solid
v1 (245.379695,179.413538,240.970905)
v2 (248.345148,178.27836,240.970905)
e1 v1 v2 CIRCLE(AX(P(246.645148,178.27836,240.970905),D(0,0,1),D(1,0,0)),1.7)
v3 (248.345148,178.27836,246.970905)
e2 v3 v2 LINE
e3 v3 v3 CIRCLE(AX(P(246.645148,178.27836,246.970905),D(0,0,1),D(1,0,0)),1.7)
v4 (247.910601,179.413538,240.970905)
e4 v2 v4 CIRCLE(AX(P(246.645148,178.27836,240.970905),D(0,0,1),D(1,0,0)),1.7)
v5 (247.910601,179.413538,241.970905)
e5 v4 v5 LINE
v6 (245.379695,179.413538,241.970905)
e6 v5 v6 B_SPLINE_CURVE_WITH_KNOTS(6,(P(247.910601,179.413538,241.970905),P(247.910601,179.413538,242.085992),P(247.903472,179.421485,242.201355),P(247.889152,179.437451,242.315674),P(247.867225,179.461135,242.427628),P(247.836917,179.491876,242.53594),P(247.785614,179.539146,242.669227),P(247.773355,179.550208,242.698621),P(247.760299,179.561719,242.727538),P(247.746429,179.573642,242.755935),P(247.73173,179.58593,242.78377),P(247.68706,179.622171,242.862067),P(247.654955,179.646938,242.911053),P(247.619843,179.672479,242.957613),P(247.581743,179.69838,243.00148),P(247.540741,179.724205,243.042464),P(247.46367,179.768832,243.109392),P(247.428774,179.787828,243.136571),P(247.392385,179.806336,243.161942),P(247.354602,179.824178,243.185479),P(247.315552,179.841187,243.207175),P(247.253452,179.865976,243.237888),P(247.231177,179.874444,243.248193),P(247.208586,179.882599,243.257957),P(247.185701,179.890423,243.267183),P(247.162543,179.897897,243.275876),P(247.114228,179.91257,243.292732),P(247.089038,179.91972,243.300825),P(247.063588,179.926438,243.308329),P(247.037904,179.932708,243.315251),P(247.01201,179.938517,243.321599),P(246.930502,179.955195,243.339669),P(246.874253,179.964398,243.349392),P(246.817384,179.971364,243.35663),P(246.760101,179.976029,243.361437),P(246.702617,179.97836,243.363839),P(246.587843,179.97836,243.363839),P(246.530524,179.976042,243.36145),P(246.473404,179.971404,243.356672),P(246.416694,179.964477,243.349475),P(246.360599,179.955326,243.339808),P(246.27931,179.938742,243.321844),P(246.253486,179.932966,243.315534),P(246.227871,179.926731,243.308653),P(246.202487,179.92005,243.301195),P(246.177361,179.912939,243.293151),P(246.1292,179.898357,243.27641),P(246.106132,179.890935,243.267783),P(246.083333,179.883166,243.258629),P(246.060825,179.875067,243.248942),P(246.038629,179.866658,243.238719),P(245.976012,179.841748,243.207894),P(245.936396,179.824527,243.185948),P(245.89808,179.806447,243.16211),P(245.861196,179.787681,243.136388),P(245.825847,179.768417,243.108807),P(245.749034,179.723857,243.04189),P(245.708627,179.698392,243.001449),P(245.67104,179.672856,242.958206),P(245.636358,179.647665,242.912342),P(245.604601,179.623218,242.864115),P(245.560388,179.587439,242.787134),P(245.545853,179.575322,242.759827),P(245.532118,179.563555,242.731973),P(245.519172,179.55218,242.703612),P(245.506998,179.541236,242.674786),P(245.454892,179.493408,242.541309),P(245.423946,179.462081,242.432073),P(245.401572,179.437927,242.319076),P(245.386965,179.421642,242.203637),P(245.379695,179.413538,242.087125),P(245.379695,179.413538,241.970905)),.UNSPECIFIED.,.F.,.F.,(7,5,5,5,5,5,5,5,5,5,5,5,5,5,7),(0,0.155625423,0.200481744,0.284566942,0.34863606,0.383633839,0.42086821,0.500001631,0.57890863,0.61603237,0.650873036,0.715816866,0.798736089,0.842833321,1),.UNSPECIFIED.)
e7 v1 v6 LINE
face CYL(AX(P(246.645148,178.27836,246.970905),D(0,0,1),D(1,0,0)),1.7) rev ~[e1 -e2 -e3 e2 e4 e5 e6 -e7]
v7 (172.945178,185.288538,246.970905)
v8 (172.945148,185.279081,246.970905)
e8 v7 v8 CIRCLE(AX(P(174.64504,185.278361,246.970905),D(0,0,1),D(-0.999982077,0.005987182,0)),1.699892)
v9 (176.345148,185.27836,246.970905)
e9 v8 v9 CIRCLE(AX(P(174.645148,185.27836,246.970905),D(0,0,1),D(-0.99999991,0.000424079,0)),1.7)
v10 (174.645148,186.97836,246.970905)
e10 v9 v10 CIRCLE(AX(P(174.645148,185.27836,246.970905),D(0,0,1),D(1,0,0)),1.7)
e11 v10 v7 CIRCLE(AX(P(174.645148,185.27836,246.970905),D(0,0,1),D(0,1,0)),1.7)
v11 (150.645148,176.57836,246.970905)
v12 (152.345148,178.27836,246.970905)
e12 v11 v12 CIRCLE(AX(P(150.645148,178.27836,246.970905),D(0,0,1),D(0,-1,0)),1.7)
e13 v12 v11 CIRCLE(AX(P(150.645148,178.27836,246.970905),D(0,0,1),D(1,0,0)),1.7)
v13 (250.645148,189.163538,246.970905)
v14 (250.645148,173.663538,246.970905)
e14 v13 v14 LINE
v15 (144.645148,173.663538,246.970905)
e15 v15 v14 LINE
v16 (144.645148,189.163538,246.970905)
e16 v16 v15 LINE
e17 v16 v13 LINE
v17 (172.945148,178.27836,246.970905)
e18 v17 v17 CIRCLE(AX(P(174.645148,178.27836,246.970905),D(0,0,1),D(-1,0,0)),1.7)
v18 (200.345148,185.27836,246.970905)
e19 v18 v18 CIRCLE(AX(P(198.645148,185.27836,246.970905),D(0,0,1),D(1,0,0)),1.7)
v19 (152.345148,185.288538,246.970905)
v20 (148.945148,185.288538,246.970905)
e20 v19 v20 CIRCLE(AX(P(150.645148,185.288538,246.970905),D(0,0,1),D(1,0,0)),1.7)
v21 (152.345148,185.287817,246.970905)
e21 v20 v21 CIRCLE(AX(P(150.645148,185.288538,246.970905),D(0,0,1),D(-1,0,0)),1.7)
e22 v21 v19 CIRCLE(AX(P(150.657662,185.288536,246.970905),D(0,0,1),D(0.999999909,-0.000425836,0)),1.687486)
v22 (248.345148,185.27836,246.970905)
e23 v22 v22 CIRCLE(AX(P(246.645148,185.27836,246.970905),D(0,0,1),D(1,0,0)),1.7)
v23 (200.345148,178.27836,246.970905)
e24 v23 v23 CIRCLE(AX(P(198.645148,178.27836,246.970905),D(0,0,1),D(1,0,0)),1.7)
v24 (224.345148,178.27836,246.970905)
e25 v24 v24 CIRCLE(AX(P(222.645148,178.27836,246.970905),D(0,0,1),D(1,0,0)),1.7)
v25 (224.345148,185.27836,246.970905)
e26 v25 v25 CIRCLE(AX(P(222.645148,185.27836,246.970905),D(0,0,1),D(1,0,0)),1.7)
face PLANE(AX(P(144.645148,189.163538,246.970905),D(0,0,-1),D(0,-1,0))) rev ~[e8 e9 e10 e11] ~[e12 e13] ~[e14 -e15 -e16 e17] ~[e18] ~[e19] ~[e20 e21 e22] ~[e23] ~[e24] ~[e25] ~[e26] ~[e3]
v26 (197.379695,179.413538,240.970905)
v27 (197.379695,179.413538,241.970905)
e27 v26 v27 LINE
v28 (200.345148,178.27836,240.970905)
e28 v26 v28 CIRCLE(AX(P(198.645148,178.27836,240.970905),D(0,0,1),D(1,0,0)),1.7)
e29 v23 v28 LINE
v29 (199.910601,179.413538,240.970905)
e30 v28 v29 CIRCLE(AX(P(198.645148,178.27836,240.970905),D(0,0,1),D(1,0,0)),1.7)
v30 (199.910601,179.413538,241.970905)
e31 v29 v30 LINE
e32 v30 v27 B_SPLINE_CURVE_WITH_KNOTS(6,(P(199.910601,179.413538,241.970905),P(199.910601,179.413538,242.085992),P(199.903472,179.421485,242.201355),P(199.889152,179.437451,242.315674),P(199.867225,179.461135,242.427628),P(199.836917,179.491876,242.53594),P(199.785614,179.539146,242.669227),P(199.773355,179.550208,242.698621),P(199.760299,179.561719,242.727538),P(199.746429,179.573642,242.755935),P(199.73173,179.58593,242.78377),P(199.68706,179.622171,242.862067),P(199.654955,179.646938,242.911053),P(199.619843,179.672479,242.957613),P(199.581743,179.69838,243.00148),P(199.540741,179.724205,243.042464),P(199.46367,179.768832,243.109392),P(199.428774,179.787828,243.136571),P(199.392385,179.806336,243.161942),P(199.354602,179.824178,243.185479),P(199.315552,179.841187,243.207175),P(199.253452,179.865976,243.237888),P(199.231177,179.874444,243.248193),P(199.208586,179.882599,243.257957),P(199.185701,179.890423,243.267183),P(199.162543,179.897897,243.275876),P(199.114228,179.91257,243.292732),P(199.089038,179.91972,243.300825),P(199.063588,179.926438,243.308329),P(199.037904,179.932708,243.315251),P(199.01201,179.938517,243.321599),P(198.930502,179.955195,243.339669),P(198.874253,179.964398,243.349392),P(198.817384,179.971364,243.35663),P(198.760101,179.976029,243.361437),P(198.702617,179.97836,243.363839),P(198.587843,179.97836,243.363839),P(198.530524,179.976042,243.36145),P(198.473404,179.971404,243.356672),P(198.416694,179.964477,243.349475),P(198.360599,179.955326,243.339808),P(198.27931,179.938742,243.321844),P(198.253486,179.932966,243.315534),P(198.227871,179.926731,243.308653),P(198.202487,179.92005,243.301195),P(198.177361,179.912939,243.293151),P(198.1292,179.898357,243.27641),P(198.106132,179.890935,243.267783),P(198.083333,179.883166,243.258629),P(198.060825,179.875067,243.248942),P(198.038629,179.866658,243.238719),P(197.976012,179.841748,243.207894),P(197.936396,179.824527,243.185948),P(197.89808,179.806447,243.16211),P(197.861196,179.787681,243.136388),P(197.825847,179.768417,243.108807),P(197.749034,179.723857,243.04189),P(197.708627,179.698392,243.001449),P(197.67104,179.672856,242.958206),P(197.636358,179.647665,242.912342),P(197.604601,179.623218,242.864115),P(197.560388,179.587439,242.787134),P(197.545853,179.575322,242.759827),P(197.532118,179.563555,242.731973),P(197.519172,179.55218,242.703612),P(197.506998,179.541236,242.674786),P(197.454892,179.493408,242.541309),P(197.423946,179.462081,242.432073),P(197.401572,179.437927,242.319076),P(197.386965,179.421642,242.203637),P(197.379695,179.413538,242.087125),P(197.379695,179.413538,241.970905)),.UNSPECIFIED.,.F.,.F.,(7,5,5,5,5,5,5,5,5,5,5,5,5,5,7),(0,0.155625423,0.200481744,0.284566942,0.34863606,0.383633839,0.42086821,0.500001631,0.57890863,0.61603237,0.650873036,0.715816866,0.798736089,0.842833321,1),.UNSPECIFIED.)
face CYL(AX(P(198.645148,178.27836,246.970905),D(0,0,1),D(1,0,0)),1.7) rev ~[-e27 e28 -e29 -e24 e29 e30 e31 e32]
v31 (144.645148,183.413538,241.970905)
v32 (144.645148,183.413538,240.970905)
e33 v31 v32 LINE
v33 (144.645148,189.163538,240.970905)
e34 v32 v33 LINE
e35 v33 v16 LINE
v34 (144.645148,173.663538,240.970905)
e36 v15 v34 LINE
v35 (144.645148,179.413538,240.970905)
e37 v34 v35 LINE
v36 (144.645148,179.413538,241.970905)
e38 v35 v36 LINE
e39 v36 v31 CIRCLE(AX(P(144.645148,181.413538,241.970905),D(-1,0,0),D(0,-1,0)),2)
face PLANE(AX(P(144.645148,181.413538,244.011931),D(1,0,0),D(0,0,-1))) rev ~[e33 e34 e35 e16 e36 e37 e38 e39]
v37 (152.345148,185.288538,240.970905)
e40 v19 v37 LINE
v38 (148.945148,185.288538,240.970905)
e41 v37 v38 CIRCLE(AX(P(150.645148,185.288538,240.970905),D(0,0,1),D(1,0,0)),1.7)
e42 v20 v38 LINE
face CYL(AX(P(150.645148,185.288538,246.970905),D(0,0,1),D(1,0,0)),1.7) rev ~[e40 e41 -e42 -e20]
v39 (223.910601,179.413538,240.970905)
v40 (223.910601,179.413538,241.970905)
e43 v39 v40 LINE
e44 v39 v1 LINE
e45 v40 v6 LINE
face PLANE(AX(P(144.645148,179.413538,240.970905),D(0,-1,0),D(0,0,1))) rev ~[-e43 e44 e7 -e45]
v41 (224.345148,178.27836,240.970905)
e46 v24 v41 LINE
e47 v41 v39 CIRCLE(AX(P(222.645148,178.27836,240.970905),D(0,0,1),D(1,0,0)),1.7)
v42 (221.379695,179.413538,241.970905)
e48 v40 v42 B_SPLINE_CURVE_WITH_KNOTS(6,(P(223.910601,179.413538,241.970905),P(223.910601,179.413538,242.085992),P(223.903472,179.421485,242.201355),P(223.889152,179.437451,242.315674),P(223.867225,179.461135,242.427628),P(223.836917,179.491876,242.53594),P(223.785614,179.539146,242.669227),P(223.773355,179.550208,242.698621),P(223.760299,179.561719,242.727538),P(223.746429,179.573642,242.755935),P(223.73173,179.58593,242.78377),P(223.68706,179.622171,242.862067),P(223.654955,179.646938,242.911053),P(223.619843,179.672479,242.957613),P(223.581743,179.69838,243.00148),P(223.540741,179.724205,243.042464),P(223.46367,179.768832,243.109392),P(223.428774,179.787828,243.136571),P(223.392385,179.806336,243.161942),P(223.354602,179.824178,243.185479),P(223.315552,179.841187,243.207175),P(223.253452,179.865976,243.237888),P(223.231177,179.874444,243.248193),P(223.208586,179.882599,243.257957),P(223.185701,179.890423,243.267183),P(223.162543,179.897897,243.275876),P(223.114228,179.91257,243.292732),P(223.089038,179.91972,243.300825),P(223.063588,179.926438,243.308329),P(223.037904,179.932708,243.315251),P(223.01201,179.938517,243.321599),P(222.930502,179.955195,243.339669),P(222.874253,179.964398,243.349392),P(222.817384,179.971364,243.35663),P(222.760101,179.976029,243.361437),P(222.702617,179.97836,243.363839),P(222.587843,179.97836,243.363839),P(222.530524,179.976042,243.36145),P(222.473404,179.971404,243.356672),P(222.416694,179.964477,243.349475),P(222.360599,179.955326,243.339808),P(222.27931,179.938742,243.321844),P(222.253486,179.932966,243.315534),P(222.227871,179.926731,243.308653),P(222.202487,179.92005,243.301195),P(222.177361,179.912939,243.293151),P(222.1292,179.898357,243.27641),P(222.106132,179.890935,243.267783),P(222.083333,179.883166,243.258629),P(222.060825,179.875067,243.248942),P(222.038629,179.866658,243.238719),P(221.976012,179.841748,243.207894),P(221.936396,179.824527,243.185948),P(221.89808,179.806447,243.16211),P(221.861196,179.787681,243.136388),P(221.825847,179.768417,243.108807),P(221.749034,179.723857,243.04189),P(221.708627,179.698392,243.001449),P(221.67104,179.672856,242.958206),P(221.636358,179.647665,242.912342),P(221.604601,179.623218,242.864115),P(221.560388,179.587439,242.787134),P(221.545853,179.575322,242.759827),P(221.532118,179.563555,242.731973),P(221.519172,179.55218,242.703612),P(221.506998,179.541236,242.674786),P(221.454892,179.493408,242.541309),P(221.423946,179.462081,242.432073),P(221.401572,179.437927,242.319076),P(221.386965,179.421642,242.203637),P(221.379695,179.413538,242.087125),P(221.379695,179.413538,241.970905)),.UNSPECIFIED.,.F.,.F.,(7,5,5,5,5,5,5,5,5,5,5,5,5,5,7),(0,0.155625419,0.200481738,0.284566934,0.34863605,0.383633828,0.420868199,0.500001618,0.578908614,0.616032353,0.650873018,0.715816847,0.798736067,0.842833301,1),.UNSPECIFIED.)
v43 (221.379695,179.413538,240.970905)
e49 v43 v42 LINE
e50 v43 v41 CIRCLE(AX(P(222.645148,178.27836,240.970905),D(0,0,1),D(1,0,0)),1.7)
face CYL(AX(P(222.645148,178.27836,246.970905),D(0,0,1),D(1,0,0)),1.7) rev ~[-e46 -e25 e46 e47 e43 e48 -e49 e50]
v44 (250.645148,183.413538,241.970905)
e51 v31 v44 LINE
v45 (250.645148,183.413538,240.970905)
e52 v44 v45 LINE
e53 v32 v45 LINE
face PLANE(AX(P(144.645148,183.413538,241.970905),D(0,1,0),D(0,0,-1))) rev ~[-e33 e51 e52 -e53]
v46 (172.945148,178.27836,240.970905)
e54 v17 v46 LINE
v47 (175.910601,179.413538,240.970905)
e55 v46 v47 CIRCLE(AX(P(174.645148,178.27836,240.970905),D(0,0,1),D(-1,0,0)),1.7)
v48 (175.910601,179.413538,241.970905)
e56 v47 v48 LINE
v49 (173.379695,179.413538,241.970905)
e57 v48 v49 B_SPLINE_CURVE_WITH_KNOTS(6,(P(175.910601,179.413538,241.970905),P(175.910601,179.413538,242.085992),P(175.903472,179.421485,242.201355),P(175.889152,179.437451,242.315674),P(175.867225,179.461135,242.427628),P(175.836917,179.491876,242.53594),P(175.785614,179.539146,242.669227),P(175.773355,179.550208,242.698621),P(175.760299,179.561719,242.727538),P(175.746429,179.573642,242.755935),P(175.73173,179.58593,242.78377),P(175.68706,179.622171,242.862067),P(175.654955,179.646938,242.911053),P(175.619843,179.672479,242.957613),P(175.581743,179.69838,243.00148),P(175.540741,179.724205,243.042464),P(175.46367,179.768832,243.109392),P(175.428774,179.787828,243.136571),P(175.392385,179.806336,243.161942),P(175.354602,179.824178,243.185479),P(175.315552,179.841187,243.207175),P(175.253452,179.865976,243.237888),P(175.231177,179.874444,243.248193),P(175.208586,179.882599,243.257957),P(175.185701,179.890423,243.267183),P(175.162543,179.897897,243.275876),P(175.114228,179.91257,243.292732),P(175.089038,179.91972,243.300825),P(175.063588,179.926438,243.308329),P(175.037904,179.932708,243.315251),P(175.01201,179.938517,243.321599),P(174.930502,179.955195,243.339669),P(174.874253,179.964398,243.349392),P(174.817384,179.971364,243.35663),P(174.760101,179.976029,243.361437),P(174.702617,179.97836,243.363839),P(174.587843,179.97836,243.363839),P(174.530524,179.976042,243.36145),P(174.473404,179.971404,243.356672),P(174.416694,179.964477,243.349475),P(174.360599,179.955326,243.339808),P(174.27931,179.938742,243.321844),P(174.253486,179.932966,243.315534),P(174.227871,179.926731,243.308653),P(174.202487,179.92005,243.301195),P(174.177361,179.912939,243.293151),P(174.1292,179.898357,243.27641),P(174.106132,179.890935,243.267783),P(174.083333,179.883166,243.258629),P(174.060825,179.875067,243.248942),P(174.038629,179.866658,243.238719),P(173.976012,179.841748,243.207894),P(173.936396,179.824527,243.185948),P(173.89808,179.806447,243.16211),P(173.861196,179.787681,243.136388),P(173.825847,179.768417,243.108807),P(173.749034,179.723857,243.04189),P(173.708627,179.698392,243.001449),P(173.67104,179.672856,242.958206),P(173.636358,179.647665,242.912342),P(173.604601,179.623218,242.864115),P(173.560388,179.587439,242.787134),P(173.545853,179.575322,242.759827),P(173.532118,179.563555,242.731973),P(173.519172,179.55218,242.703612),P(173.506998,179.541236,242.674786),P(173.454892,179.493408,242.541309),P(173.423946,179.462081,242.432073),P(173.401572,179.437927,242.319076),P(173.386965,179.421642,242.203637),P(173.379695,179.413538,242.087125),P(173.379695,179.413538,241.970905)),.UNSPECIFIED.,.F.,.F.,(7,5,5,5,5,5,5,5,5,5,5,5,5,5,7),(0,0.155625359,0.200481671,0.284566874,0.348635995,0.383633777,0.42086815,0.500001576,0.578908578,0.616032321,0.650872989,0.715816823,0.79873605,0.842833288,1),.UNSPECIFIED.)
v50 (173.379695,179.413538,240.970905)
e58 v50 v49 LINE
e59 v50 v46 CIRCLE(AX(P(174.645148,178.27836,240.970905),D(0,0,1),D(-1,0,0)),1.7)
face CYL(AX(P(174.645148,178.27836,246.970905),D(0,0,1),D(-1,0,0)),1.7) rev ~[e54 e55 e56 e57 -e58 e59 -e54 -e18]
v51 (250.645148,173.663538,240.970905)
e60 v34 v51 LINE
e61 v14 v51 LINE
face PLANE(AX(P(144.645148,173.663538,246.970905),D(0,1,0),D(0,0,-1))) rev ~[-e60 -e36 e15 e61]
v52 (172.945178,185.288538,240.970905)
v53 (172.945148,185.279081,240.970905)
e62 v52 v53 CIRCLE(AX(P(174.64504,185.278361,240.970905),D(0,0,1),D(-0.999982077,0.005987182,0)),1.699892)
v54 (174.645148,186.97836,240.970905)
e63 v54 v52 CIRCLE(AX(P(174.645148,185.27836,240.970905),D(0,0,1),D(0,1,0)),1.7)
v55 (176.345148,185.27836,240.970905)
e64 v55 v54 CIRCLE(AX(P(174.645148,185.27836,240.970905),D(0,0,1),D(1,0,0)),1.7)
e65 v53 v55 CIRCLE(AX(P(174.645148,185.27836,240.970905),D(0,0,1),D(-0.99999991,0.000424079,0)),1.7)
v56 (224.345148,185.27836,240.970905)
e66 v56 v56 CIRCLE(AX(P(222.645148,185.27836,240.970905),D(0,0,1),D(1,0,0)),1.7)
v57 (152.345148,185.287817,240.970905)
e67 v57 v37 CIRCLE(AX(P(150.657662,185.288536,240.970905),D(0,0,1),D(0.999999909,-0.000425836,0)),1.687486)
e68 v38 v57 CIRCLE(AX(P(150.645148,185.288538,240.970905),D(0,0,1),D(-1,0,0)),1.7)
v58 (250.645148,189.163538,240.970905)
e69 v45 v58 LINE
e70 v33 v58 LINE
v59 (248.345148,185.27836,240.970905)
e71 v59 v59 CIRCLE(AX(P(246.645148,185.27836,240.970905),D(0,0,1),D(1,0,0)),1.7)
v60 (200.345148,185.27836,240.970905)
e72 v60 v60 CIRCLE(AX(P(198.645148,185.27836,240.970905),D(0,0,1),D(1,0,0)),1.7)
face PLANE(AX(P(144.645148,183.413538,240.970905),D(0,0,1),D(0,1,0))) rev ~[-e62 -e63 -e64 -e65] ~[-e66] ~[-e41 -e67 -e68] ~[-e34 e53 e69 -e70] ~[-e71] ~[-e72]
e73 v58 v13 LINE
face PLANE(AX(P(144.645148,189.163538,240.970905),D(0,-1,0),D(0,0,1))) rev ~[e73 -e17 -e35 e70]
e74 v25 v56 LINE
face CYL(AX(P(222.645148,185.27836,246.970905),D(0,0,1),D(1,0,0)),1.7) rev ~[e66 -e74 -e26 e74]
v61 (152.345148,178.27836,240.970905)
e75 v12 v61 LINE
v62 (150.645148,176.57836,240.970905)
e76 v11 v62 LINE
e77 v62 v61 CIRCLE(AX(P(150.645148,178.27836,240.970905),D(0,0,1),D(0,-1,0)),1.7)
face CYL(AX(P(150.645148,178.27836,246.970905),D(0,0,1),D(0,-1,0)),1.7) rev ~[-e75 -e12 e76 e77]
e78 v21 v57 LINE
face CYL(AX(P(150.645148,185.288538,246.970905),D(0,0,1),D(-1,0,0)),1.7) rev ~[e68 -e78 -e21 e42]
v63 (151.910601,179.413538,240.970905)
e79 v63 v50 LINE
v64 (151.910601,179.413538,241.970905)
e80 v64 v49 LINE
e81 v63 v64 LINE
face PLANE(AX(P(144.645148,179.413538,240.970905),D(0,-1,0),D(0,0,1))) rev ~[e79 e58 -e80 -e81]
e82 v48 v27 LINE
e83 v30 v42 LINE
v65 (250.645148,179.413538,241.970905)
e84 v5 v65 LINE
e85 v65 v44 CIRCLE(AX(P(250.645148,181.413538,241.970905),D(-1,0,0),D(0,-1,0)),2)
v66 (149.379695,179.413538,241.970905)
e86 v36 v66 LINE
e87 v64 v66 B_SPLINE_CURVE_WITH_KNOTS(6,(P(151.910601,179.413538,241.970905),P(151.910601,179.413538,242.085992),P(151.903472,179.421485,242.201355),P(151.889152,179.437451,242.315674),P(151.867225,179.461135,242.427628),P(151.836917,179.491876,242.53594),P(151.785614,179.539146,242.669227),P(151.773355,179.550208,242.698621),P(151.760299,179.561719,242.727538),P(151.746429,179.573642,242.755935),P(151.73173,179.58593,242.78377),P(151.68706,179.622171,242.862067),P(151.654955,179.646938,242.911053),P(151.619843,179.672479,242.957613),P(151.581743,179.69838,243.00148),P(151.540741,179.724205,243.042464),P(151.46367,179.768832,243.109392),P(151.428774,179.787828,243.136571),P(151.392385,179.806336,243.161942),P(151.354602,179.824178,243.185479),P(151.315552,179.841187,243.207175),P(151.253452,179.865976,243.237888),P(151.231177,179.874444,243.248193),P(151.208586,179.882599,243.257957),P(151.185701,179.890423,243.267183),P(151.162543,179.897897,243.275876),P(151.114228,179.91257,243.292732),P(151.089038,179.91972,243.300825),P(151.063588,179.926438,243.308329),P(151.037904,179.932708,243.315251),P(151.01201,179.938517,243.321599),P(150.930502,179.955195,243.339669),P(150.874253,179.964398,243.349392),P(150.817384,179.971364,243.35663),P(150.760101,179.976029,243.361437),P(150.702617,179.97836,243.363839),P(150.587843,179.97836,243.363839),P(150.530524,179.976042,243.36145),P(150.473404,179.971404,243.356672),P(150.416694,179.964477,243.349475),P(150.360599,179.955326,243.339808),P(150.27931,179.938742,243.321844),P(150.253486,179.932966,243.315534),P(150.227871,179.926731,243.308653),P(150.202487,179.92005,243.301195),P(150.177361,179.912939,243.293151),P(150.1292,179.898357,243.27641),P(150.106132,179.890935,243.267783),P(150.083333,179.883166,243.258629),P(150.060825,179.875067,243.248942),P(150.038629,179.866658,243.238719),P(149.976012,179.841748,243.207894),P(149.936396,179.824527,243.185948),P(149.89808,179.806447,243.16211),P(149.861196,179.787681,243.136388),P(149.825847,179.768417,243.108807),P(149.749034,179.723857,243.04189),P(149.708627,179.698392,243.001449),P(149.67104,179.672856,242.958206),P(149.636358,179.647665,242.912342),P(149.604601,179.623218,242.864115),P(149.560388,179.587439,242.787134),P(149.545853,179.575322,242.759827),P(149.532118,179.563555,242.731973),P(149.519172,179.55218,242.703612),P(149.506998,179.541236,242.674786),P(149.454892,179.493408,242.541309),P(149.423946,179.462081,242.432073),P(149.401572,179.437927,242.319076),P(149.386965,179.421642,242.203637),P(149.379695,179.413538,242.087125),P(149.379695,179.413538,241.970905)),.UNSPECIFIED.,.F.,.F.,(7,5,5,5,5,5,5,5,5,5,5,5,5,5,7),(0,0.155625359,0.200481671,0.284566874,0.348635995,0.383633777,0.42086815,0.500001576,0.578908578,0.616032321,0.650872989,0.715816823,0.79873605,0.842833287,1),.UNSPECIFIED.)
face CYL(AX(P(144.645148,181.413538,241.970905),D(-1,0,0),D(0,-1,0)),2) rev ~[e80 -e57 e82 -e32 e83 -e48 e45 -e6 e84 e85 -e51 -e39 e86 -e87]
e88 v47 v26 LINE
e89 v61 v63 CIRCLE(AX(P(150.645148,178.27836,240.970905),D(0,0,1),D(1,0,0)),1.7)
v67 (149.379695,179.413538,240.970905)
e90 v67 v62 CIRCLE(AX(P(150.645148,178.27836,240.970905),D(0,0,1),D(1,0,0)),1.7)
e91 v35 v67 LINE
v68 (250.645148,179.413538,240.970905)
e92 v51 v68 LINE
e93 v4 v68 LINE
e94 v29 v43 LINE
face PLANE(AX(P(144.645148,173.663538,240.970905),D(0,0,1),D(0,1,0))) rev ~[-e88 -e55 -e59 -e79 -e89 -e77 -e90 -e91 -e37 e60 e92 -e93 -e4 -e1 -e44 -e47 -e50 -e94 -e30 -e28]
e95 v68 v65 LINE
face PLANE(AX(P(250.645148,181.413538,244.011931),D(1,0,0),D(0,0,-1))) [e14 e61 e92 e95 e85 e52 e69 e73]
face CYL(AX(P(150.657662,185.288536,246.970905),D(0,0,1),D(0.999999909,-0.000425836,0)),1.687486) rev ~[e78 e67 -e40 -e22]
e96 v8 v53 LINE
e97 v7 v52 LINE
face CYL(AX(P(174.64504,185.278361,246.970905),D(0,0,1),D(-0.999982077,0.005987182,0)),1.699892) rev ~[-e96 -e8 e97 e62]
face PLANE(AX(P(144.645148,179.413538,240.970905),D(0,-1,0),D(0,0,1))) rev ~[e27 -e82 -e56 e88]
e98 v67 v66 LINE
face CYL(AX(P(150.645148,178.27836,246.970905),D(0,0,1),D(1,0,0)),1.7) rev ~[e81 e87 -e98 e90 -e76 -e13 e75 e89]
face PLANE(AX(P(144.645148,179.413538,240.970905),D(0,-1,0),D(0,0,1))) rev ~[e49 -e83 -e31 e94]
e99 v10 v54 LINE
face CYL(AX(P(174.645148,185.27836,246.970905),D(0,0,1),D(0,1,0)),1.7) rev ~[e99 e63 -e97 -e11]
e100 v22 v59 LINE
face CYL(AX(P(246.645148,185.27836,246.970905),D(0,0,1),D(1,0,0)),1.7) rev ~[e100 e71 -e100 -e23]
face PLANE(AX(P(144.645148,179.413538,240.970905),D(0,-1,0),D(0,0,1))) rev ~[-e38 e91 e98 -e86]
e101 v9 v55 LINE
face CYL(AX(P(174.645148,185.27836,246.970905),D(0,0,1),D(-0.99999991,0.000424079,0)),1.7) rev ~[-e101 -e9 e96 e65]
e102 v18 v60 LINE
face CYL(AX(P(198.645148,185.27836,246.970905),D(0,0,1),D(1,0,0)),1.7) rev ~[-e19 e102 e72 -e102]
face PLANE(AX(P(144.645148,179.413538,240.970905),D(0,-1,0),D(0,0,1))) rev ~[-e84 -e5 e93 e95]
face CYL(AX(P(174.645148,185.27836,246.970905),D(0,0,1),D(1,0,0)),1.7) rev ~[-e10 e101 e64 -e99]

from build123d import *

# Parameters (mm, degrees)
BOSS_EXTRUDE1_DEPTH      = 60
BOSS_EXTRUDE1_DEPTH_BACK = 46
SKETCH2_R                = 1.7
CUT_EXTRUDE1_DEPTH       = 10


with BuildPart() as part:
    # Sketch1 → Boss-Extrude1 (new, two sides: drawn at the far end of the back side and taken through both)
    with BuildSketch(Plane(origin=(190.645148, 0, 0), x_dir=(0, 0, -1), z_dir=(1, 0, 0)).offset(-BOSS_EXTRUDE1_DEPTH_BACK)):
        with BuildLine():
            Line((-240.970904961, 189.163538159), (-246.970904961, 189.163538159))
            Line((-246.970904961, 189.163538159), (-246.970904961, 173.663538158))
            Line((-246.970904961, 173.663538158), (-240.970904961, 173.663538158))
            Line((-240.970904961, 173.663538158), (-240.970904961, 179.413538158))
            Line((-240.970904961, 179.413538158), (-241.970904961, 179.413538158))
            ThreePointArc((-241.970904961, 179.413538158), (-243.970904961, 181.413538158), (-241.970904961, 183.413538158))
            Line((-241.970904961, 183.413538158), (-240.970904961, 183.413538158))
            Line((-240.970904961, 183.413538158), (-240.970904961, 189.163538159))
        make_face()
    extrude(amount=BOSS_EXTRUDE1_DEPTH + BOSS_EXTRUDE1_DEPTH_BACK)

    # Sketch2 → Cut-Extrude1 (cut)
    with BuildSketch(Plane.XY.offset(246.970904961)):
        with BuildLine():
            ThreePointArc((176.345148, 178.278360264), (174.645148, 179.978360264), (172.945148, 178.278360264))
            ThreePointArc((172.945148, 178.278360264), (174.645148, 176.578360264), (176.345148, 178.278360264))
        make_face()
        with BuildLine():
            ThreePointArc((152.345148, 178.278360264), (149.443066472, 179.480441792), (150.645148, 176.578360264))
            Line((150.645148, 176.578360264), (150.645148, 178.278360264))
            Line((150.645148, 178.278360264), (152.345148, 178.278360264))
        make_face()
        with BuildLine():
            Line((150.645148, 178.278360264), (150.645148, 176.578360264))
            ThreePointArc((150.645148, 176.578360264), (151.847229528, 177.076278736), (152.345148, 178.278360264))
            Line((152.345148, 178.278360264), (150.645148, 178.278360264))
        make_face()
        with BuildLine():
            ThreePointArc((152.345148, 185.288538158), (150.645148, 186.988538158), (148.945148, 185.288538158))
            Line((148.945148, 185.288538158), (150.645148, 185.288538158))
            Line((150.645148, 185.288538158), (152.345148, 185.288538158))
        make_face()
        with BuildLine():
            Line((150.645148, 185.288538158), (148.945148, 185.288538158))
            ThreePointArc((148.945148, 185.288538158), (150.644787533, 183.588538197), (152.345147847, 185.287817224))
            Line((152.345147847, 185.287817224), (150.645148, 185.288538158))
        make_face()
        with BuildLine():
            Line((152.345148, 185.288538158), (150.645148, 185.288538158))
            Line((150.645148, 185.288538158), (152.345147847, 185.287817224))
            ThreePointArc((152.345147847, 185.287817224), (152.345147962, 185.288177691), (152.345148, 185.288538158))
        make_face()
        with BuildLine():
            ThreePointArc((176.345148, 185.278360264), (175.847229528, 186.480441792), (174.645148, 186.978360264))
            Line((174.645148, 186.978360264), (174.645148, 185.278360264))
            Line((174.645148, 185.278360264), (172.945148153, 185.279081198))
            ThreePointArc((172.945148153, 185.279081198), (174.644787533, 183.578360302), (176.345148, 185.278360264))
        make_face()
        with BuildLine():
            Line((174.645148, 185.278360264), (174.645148, 186.978360264))
            ThreePointArc((174.645148, 186.978360264), (173.446670303, 186.484034851), (172.945178468, 185.288538158))
            ThreePointArc((172.945178468, 185.288538158), (172.945156734, 185.283809699), (172.945148153, 185.279081198))
            Line((172.945148153, 185.279081198), (174.645148, 185.278360264))
        make_face()
        with Locations((198.645148, 178.278360264)):
            Circle(SKETCH2_R)
        with Locations((246.645148, 185.278360264)):
            Circle(SKETCH2_R)
        with Locations((246.645148, 178.278360264)):
            Circle(SKETCH2_R)
        with Locations((222.645148, 185.278360264)):
            Circle(SKETCH2_R)
        with Locations((222.645148, 178.278360264)):
            Circle(SKETCH2_R)
        with Locations((198.645148, 185.278360264)):
            Circle(SKETCH2_R)
    extrude(amount=-CUT_EXTRUDE1_DEPTH, mode=Mode.SUBTRACT)


solid = part.part
